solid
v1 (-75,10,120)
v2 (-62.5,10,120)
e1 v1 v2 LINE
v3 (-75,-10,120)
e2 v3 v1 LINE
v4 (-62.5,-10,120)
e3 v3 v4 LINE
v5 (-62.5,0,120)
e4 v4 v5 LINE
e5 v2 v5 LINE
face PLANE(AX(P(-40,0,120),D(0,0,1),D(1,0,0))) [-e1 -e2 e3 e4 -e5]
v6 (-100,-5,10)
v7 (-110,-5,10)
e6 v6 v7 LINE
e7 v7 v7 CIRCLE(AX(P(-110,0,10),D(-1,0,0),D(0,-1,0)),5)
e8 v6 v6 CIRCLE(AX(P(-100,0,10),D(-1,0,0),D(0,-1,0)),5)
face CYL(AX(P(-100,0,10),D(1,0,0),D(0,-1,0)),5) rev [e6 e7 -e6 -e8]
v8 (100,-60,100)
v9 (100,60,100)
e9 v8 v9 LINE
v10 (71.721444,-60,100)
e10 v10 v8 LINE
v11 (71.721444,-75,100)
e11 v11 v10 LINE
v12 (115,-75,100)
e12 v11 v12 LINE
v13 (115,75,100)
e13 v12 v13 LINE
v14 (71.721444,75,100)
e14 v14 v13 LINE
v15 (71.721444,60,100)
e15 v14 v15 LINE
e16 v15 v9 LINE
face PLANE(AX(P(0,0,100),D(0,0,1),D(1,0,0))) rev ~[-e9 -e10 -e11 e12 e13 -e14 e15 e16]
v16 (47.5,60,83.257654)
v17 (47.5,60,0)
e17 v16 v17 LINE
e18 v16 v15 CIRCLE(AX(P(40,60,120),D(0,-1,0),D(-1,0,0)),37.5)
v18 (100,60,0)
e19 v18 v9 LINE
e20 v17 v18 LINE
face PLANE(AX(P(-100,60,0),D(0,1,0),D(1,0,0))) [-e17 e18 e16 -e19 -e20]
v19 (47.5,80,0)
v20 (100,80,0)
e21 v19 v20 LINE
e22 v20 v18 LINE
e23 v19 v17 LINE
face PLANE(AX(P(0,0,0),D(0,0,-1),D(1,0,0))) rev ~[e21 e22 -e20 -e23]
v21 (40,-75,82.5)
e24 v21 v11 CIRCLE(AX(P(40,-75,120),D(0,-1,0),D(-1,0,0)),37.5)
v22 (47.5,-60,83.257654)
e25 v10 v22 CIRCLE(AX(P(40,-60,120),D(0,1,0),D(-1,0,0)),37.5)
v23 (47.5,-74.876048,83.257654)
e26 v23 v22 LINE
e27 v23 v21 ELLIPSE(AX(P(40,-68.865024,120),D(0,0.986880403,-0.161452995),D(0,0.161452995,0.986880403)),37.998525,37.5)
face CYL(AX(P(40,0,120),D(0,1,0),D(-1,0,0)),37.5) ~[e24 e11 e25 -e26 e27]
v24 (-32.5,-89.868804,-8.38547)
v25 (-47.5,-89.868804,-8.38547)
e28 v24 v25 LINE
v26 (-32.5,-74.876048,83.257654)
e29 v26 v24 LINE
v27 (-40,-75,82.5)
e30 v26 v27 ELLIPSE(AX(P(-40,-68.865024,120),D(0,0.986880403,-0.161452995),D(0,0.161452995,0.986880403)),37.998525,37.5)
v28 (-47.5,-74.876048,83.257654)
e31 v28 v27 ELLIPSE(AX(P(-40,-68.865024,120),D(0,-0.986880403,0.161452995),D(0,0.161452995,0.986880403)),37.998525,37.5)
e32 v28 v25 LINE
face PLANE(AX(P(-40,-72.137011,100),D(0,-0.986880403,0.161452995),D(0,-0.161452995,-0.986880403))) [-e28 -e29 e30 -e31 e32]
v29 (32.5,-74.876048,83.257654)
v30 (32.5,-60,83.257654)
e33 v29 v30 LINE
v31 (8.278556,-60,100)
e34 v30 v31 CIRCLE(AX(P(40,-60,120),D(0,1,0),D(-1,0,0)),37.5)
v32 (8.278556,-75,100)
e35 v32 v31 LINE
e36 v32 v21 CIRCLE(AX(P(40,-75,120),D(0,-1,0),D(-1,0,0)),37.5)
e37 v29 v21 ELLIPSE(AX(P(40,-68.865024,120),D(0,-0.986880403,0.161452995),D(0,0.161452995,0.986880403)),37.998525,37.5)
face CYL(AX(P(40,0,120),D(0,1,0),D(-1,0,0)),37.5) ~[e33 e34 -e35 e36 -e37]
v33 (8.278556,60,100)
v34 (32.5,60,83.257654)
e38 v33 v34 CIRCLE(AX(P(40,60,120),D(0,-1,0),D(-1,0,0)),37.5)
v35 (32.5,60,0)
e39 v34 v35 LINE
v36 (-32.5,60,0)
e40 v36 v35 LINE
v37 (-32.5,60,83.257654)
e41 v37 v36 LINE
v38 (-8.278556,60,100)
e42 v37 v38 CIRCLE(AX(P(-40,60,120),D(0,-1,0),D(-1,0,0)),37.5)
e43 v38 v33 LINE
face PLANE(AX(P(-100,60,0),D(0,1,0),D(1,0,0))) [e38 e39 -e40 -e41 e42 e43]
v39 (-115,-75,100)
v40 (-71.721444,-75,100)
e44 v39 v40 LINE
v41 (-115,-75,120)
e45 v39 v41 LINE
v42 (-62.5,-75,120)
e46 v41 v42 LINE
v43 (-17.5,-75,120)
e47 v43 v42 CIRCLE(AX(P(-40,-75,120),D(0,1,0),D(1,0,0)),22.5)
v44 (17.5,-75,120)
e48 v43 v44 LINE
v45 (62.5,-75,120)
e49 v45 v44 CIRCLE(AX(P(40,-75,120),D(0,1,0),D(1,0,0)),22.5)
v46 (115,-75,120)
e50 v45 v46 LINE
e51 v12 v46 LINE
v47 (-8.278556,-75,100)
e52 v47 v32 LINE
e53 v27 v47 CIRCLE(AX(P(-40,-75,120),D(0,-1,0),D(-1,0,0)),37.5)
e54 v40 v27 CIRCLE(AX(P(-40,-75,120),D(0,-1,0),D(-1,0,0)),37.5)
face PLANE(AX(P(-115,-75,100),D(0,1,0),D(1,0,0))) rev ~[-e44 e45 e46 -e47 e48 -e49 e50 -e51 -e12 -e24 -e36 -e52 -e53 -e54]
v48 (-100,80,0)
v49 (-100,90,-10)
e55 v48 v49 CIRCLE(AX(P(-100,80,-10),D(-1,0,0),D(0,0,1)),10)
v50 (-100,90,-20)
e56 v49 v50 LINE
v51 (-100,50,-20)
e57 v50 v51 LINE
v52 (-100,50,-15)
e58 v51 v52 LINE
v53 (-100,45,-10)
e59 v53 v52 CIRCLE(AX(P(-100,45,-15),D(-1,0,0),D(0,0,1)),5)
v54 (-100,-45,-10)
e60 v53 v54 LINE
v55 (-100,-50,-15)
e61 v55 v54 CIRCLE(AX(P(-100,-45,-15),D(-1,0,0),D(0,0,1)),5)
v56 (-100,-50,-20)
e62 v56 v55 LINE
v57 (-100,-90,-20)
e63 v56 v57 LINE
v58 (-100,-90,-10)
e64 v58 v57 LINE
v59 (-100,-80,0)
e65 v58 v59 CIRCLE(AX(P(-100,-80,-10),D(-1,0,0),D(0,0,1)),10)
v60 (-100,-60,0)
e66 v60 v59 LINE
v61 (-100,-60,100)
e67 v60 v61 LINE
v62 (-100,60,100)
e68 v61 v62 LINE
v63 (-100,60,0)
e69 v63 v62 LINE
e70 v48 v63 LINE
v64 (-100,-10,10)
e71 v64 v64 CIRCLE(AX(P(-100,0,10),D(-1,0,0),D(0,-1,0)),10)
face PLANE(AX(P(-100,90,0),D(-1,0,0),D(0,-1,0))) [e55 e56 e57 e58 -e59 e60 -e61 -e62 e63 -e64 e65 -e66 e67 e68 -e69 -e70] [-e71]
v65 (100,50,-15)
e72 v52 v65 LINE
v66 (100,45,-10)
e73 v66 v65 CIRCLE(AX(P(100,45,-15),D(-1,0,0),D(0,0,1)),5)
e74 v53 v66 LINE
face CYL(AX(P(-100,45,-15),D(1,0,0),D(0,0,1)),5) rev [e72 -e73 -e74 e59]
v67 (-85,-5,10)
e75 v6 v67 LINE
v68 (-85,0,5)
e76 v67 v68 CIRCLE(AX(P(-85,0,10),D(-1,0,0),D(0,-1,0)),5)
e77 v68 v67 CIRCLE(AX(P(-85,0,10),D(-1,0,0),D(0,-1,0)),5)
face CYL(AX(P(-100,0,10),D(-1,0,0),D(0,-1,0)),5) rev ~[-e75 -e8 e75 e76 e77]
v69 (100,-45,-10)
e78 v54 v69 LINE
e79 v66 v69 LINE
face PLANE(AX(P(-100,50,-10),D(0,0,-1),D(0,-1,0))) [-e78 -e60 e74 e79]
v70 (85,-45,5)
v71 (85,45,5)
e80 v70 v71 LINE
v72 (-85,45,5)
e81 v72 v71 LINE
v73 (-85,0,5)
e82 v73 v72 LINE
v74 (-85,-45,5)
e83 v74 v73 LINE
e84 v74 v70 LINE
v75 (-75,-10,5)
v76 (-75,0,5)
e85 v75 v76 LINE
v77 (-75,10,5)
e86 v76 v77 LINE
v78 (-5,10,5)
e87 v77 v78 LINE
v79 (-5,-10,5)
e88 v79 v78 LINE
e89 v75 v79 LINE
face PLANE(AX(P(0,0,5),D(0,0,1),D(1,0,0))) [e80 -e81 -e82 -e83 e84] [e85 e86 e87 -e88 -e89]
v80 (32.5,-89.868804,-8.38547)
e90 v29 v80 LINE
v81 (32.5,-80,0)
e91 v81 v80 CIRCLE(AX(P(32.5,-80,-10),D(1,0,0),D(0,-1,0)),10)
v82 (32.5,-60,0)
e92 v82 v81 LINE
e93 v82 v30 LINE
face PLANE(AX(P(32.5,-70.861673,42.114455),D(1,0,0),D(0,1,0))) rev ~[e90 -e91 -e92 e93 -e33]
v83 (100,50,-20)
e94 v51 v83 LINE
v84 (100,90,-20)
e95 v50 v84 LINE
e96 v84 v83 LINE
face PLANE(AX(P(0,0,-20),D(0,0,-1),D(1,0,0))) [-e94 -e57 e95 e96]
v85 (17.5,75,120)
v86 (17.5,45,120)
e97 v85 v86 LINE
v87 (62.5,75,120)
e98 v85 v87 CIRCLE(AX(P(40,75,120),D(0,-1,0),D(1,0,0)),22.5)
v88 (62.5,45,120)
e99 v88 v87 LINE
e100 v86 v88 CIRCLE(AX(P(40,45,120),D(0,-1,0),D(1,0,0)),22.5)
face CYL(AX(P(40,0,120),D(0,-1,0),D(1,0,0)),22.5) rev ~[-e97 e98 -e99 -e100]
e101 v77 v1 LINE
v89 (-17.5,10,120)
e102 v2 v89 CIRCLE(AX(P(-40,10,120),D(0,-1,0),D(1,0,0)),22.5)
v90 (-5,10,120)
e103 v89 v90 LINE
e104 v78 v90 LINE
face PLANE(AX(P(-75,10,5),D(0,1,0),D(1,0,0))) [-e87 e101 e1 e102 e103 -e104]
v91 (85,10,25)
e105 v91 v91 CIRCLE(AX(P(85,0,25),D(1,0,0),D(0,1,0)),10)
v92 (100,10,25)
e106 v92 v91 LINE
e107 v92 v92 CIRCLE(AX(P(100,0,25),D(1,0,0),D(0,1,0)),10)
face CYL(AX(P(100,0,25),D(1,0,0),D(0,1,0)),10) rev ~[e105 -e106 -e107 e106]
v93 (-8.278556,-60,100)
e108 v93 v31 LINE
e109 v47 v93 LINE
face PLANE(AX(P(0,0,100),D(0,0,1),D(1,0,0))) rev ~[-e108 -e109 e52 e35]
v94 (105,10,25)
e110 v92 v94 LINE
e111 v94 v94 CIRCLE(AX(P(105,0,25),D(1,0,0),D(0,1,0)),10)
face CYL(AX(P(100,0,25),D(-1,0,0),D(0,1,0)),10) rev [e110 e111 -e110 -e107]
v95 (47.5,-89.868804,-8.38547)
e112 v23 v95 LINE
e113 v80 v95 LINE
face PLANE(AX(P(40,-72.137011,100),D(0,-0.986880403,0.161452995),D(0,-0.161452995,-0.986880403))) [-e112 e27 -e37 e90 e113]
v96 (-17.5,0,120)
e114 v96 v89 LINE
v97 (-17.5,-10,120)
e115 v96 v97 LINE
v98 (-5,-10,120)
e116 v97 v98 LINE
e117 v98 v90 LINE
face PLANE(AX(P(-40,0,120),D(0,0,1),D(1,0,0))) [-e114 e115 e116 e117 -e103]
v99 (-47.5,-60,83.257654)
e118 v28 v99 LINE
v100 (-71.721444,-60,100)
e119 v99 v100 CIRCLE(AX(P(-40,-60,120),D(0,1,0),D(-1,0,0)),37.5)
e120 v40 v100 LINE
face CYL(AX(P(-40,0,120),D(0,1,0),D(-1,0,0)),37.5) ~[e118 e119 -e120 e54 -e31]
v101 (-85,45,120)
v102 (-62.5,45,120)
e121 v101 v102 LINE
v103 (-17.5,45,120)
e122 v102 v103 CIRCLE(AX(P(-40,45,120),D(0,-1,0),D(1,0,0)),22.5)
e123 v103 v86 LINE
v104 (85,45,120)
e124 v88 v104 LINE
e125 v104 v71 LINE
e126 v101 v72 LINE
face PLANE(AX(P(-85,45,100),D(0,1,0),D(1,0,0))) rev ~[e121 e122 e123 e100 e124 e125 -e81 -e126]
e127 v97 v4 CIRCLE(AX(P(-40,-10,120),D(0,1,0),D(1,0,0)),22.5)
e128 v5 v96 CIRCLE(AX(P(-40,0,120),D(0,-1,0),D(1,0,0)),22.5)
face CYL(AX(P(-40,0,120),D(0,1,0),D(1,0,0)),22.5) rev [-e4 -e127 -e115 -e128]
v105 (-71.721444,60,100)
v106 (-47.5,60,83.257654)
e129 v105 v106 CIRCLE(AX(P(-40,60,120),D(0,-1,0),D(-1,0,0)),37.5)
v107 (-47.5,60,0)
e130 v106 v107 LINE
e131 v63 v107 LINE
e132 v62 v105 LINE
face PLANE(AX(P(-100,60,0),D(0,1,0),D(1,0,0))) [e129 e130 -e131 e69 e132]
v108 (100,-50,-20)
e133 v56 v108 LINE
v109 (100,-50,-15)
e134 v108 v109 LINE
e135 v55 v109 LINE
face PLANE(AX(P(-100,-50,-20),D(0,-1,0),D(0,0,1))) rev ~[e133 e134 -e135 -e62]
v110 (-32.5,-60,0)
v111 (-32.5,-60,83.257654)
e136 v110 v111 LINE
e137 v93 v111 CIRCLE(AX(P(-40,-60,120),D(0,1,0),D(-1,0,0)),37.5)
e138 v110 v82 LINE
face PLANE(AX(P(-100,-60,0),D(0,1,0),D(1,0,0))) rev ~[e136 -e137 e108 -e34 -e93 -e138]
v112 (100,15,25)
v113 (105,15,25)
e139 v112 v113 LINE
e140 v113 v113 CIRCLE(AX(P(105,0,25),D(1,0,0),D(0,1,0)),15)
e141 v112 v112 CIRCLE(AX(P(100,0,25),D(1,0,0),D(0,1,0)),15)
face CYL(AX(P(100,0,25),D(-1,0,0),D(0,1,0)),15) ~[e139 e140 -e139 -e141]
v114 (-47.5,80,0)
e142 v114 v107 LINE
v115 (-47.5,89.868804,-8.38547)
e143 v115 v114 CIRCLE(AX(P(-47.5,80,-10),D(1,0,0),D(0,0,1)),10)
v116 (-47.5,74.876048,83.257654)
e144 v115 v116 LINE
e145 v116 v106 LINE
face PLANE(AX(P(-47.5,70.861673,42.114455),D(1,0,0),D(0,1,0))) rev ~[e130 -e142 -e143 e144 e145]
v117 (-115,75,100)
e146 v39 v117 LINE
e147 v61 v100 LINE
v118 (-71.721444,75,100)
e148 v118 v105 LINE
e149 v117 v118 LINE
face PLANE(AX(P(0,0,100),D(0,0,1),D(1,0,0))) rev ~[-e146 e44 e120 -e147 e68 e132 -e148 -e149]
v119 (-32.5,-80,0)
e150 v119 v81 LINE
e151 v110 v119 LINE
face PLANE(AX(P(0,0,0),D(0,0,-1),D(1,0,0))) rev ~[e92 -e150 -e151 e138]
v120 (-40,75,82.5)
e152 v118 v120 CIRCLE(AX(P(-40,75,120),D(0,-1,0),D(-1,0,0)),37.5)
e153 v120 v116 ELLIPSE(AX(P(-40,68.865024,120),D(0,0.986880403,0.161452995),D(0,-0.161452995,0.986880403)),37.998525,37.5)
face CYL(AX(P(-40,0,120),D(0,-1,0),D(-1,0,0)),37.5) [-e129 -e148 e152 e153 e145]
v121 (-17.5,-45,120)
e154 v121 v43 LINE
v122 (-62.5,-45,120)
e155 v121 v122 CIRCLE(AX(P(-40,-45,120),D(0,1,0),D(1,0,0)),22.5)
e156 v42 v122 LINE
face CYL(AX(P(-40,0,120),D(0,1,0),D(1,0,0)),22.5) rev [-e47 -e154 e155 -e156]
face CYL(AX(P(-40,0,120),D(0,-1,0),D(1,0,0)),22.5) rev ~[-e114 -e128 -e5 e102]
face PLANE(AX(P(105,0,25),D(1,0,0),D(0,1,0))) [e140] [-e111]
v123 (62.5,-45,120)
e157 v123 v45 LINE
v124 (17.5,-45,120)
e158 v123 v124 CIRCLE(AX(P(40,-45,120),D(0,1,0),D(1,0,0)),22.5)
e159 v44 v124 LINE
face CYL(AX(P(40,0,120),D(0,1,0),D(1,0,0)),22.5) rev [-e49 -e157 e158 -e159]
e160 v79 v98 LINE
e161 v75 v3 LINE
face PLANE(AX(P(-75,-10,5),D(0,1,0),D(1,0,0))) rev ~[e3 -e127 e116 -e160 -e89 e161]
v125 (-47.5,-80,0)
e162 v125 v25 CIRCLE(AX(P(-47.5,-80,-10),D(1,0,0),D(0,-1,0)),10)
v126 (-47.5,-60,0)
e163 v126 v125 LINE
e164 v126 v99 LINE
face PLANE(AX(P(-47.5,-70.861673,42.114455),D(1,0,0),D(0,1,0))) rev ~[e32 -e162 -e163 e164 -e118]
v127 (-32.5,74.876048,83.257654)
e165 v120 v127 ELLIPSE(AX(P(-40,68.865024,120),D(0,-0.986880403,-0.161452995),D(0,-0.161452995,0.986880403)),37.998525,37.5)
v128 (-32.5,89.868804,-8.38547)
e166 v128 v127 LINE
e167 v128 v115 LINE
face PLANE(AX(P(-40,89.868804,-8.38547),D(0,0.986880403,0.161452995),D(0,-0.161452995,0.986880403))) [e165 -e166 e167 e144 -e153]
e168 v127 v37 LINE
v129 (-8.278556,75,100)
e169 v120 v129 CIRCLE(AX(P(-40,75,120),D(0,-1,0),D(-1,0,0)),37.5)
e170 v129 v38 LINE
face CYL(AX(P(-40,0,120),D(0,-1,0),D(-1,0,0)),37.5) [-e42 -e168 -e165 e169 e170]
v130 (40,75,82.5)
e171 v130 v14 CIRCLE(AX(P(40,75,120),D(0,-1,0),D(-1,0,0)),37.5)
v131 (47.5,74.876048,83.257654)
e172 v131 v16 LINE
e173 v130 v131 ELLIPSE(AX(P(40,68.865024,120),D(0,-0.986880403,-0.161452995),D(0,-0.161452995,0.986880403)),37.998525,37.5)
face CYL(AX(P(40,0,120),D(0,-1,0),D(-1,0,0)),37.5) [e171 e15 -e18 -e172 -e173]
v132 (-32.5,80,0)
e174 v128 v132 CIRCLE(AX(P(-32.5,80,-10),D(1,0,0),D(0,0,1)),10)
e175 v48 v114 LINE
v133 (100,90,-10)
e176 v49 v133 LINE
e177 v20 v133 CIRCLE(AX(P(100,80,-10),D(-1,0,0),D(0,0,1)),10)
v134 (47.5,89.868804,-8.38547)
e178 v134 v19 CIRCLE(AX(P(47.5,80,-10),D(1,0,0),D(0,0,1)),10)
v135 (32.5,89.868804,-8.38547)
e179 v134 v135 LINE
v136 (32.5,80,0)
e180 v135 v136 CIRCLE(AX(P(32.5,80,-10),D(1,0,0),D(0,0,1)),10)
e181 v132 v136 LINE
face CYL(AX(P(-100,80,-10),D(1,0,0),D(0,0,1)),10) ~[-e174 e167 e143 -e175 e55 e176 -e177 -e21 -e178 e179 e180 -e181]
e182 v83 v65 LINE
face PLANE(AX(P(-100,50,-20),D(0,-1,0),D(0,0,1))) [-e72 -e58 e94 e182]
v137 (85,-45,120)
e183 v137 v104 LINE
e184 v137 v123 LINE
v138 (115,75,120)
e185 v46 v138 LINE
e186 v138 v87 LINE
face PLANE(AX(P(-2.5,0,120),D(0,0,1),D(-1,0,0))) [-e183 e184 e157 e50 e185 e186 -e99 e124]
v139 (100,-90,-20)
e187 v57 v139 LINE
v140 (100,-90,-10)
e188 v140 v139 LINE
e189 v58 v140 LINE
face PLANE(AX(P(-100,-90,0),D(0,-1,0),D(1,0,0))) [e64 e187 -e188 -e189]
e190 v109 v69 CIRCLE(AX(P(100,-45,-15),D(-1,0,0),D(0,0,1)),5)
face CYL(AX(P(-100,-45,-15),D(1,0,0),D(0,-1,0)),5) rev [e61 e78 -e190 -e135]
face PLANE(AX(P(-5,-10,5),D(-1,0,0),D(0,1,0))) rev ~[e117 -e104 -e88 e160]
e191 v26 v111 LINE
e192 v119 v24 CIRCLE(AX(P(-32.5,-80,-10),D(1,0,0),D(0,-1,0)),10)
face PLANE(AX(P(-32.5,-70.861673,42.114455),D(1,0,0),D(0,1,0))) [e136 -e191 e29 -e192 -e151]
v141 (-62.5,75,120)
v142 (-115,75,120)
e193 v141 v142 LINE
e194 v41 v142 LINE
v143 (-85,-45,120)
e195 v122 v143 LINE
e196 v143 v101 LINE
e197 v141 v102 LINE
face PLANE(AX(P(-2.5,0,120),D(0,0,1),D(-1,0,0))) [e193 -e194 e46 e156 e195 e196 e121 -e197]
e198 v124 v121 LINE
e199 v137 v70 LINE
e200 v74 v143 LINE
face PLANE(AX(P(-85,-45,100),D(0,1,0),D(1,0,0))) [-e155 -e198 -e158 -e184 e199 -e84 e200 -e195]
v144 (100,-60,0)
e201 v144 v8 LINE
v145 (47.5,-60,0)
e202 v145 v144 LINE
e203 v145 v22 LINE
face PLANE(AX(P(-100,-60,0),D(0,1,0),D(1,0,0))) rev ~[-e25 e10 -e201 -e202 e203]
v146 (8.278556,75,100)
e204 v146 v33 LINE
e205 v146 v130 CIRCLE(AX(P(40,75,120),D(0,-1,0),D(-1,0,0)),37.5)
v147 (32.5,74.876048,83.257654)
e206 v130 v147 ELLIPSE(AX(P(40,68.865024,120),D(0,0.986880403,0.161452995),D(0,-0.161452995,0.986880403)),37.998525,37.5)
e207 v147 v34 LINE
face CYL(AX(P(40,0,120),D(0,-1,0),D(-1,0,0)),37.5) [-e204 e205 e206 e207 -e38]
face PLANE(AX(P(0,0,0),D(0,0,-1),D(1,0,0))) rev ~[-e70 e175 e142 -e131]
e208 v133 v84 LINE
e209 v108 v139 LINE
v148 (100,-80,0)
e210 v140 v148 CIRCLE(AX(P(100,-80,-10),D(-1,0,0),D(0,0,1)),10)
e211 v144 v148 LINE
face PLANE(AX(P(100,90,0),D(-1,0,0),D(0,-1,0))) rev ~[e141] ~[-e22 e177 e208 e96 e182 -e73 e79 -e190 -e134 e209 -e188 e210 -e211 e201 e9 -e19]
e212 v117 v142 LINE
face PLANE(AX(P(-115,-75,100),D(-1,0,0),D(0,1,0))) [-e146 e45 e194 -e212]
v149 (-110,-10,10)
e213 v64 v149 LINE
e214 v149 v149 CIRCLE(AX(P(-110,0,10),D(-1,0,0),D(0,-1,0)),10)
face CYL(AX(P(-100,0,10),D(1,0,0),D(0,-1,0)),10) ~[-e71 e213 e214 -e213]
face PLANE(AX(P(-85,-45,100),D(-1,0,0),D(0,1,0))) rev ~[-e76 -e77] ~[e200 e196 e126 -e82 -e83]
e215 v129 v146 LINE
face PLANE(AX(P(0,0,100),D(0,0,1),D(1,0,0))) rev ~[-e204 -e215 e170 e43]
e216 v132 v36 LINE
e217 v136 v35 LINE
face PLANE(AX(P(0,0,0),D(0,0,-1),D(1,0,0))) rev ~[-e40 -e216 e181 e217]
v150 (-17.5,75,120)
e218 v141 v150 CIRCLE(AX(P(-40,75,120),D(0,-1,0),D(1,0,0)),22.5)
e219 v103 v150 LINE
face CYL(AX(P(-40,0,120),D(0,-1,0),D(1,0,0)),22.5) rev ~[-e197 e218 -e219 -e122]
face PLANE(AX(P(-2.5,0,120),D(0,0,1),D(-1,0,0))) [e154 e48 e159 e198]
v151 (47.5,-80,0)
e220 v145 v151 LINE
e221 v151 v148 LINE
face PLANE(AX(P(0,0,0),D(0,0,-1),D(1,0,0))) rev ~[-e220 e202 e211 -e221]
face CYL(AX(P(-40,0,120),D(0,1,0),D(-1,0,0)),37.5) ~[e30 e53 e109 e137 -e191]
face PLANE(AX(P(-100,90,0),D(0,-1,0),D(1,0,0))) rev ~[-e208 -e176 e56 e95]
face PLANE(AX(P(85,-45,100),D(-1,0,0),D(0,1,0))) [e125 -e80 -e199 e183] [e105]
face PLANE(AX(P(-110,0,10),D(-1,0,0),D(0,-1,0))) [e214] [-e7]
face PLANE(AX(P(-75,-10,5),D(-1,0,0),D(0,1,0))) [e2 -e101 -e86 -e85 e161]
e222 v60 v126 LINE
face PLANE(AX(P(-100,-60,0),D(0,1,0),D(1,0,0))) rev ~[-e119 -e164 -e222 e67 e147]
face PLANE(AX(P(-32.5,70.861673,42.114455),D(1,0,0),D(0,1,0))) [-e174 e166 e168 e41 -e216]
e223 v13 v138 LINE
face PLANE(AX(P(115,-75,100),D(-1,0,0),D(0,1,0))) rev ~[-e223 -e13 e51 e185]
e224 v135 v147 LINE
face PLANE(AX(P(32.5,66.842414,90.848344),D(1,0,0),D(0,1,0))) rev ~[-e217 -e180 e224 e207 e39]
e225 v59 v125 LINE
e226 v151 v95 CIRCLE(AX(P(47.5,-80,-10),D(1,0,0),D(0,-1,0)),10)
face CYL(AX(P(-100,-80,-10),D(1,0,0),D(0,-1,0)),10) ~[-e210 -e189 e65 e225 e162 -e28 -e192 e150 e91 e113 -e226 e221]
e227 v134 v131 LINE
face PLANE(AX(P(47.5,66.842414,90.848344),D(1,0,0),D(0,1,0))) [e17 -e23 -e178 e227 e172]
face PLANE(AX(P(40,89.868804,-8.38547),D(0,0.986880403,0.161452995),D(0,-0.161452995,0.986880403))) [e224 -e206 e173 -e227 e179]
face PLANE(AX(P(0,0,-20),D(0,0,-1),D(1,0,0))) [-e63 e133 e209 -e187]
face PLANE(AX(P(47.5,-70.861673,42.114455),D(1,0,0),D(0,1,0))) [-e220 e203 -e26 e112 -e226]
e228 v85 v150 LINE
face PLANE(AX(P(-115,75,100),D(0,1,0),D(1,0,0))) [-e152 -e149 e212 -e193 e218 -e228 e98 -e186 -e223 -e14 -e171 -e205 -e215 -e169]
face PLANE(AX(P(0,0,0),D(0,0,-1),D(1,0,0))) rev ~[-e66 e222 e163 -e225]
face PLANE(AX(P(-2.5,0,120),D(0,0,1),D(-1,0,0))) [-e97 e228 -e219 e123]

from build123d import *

# Parameters (mm, degrees)
F0_W           = 200
F0_H           = 120
F1_DEPTH       = 100
F2_T           = -15
F3_W           = 230
F3_H           = 150
F3_W_2         = 170
F3_H_2         = 90
F4_DEPTH       = 20
F5_W           = 200
F5_H           = 180
F6_DEPTH       = 20
F7_W           = 100
F7_H           = 10
F8_DEPTH       = 200
F9_R           = 5
F11_DEPTH      = 75
F11_DEPTH_BACK = 75
F12_DEPTH      = 45
F12_DEPTH_BACK = 45
F13_R          = 22.5
F14_DEPTH      = 200
F14_DEPTH_BACK = 200
F15_R          = 10
F19_DEPTH      = 7.5
F19_DEPTH_BACK = 7.5
F21_DEPTH      = 7.5
F21_DEPTH_BACK = 7.5
F22_DEPTH      = 200
F22_DEPTH_BACK = 200
F23_DEPTH      = 10
F24_R          = 10
F24_R_2        = 5
F25_DEPTH      = 10
F26_DEPTH      = 25
F27_R          = 15
F27_R_2        = 10
F28_DEPTH      = 5
F29_DEPTH      = 25
F30_W          = 70
F30_H          = 20
F31_DEPTH      = 115
F32_DEPTH      = 25
F32_DEPTH_BACK = 25


with BuildPart() as f1:
    # F0 (on Top) → F1 (new body)
    with BuildSketch(Plane.XY):
        Rectangle(F0_W, F0_H)
    extrude(amount=F1_DEPTH)

    # F2
    f2_openings = [f1.faces().sort_by_distance(p)[0] for p in [
        (0, 0, 100),
    ]]
    offset(amount=F2_T, openings=f2_openings)

    # F3 (on face) → F4 (join)
    with BuildSketch(Plane.XY.offset(100)):
        Rectangle(F3_W, F3_H)
        Rectangle(F3_W_2, F3_H_2, mode=Mode.SUBTRACT)
    extrude(amount=F4_DEPTH)

    # F5 (on face) → F6 (join)
    with BuildSketch(Plane(origin=(0, 0, 0), x_dir=(1, 0, 0), z_dir=(0, 0, -1))):
        Rectangle(F5_W, F5_H)
    extrude(amount=F6_DEPTH)

    # F7 (on face) → F8 (cut)
    with BuildSketch(Plane(origin=(-100, 0, 0), x_dir=(0, -1, 0), z_dir=(-1, 0, 0))):
        with Locations((0, -15)):
            Rectangle(F7_W, F7_H)
    extrude(amount=-F8_DEPTH, mode=Mode.SUBTRACT)

    # F9
    f9_edges = [f1.edges().sort_by_distance(p)[0] for p in [
        (0, -50, -10),
        (0, 50, -10),
    ]]
    fillet(f9_edges, radius=F9_R)

    # F10 (on Front) → F11 (join, two sides)
    with BuildSketch(Plane.XZ) as f11_sk:
        with BuildLine():
            Line((-2.5, 120), (-77.5, 120))
            ThreePointArc((-77.5, 120), (-40, 82.5), (-2.5, 120))
        make_face()
        with BuildLine():
            Line((77.5, 120), (2.5, 120))
            ThreePointArc((2.5, 120), (40, 82.5), (77.5, 120))
        make_face()
    extrude(amount=F11_DEPTH)
    extrude(f11_sk.sketch, amount=-F11_DEPTH_BACK)

    # F10 (on Front) → F12 (cut, two sides)
    with BuildSketch(Plane.XZ) as f12_sk:
        with BuildLine():
            Line((-2.5, 120), (-77.5, 120))
            ThreePointArc((-77.5, 120), (-40, 82.5), (-2.5, 120))
        make_face()
        with BuildLine():
            Line((77.5, 120), (2.5, 120))
            ThreePointArc((2.5, 120), (40, 82.5), (77.5, 120))
        make_face()
    extrude(amount=F12_DEPTH, mode=Mode.SUBTRACT)
    extrude(f12_sk.sketch, amount=-F12_DEPTH_BACK, mode=Mode.SUBTRACT)

    # F13 (on Front) → F14 (cut, two sides)
    with BuildSketch(Plane.XZ) as f14_sk:
        with Locations((-40, 120)):
            Circle(F13_R)
        with Locations((40, 120)):
            Circle(F13_R)
    extrude(amount=-F14_DEPTH, mode=Mode.SUBTRACT)
    extrude(f14_sk.sketch, amount=F14_DEPTH_BACK, mode=Mode.SUBTRACT)

    # F15
    f15_edges = [f1.edges().sort_by_distance(p)[0] for p in [
        (0, -90, 0),
        (0, 90, 0),
    ]]
    fillet(f15_edges, radius=F15_R)

    # F18 (on offset) → F19 (join, two sides)
    with BuildSketch(Plane.YZ.offset(40)) as f19_sk:
        Polygon((75, 82.5), (72.1370113349, 100), (60, 100), (60, 82.5), align=None)
        Polygon((89.8688040333, -8.3854700523), (75, 82.5), (60, 82.5), (60, -8.3854700523), align=None)
        Polygon((-60, 100), (-72.1370113349, 100), (-89.8688040333, -8.3854700523), (-60, -8.3854700523), align=None)
    extrude(amount=F19_DEPTH)
    extrude(f19_sk.sketch, amount=-F19_DEPTH_BACK)

    # F20 (on offset) → F21 (join, two sides)
    with BuildSketch(Plane.YZ.offset(-40)) as f21_sk:
        Polygon((89.8688040333, -8.3854700523), (72.1370113349, 100), (60, 100), (60, -8.3854700523), align=None)
        Polygon((-89.8688040333, -8.3854700523), (-60, -8.3854700523), (-60, 100), (-72.1370113349, 100), align=None)
    extrude(amount=F21_DEPTH)
    extrude(f21_sk.sketch, amount=-F21_DEPTH_BACK)

    # F13 (on Front) → F22 (cut, two sides)
    with BuildSketch(Plane.XZ) as f22_sk:
        with Locations((-40, 120)):
            Circle(F13_R)
        with Locations((40, 120)):
            Circle(F13_R)
    extrude(amount=-F22_DEPTH, mode=Mode.SUBTRACT)
    extrude(f22_sk.sketch, amount=F22_DEPTH_BACK, mode=Mode.SUBTRACT)

    # F23 (cut): a face of the model
    f23_faces = [f1.faces().sort_by_distance(p)[0] for p in [
        (0, 0, 15),
    ]]
    extrude(f23_faces, amount=-F23_DEPTH, mode=Mode.SUBTRACT)

    # F24 (on face) → F25 (join)
    with BuildSketch(Plane(origin=(-100, 0, 0), x_dir=(0, -1, 0), z_dir=(-1, 0, 0))):
        with Locations((0, 10)):
            Circle(F24_R)
        with Locations((0, 10)):
            Circle(F24_R_2, mode=Mode.SUBTRACT)
    extrude(amount=F25_DEPTH)

    # F26 (cut): a face of the model
    f26_faces = [f1.faces().sort_by_distance(p)[0] for p in [
        (-100, 0, 10),
    ]]
    extrude(f26_faces, amount=-F26_DEPTH, mode=Mode.SUBTRACT)

    # F27 (on face) → F28 (join)
    with BuildSketch(Plane.YZ.offset(100)):
        with Locations((0, 25)):
            Circle(F27_R)
        with Locations((0, 25)):
            Circle(F27_R_2, mode=Mode.SUBTRACT)
    extrude(amount=F28_DEPTH)

    # F29 (cut): a face of the model
    f29_faces = [f1.faces().sort_by_distance(p)[0] for p in [
        (100, 0, 25),
    ]]
    extrude(f29_faces, amount=-F29_DEPTH, mode=Mode.SUBTRACT)

    # F30 (on face) → F31 (join, through all)
    with BuildSketch(Plane.XY.offset(5)):
        with Locations((-40, 0)):
            Rectangle(F30_W, F30_H)
    extrude(amount=F31_DEPTH)

    # F13 (on Front) → F32 (cut, two sides)
    with BuildSketch(Plane.XZ) as f32_sk:
        with Locations((-40, 120)):
            Circle(F13_R)
        with Locations((40, 120)):
            Circle(F13_R)
    extrude(amount=-F32_DEPTH, mode=Mode.SUBTRACT)
    extrude(f32_sk.sketch, amount=F32_DEPTH_BACK, mode=Mode.SUBTRACT)


solid = f1.part
